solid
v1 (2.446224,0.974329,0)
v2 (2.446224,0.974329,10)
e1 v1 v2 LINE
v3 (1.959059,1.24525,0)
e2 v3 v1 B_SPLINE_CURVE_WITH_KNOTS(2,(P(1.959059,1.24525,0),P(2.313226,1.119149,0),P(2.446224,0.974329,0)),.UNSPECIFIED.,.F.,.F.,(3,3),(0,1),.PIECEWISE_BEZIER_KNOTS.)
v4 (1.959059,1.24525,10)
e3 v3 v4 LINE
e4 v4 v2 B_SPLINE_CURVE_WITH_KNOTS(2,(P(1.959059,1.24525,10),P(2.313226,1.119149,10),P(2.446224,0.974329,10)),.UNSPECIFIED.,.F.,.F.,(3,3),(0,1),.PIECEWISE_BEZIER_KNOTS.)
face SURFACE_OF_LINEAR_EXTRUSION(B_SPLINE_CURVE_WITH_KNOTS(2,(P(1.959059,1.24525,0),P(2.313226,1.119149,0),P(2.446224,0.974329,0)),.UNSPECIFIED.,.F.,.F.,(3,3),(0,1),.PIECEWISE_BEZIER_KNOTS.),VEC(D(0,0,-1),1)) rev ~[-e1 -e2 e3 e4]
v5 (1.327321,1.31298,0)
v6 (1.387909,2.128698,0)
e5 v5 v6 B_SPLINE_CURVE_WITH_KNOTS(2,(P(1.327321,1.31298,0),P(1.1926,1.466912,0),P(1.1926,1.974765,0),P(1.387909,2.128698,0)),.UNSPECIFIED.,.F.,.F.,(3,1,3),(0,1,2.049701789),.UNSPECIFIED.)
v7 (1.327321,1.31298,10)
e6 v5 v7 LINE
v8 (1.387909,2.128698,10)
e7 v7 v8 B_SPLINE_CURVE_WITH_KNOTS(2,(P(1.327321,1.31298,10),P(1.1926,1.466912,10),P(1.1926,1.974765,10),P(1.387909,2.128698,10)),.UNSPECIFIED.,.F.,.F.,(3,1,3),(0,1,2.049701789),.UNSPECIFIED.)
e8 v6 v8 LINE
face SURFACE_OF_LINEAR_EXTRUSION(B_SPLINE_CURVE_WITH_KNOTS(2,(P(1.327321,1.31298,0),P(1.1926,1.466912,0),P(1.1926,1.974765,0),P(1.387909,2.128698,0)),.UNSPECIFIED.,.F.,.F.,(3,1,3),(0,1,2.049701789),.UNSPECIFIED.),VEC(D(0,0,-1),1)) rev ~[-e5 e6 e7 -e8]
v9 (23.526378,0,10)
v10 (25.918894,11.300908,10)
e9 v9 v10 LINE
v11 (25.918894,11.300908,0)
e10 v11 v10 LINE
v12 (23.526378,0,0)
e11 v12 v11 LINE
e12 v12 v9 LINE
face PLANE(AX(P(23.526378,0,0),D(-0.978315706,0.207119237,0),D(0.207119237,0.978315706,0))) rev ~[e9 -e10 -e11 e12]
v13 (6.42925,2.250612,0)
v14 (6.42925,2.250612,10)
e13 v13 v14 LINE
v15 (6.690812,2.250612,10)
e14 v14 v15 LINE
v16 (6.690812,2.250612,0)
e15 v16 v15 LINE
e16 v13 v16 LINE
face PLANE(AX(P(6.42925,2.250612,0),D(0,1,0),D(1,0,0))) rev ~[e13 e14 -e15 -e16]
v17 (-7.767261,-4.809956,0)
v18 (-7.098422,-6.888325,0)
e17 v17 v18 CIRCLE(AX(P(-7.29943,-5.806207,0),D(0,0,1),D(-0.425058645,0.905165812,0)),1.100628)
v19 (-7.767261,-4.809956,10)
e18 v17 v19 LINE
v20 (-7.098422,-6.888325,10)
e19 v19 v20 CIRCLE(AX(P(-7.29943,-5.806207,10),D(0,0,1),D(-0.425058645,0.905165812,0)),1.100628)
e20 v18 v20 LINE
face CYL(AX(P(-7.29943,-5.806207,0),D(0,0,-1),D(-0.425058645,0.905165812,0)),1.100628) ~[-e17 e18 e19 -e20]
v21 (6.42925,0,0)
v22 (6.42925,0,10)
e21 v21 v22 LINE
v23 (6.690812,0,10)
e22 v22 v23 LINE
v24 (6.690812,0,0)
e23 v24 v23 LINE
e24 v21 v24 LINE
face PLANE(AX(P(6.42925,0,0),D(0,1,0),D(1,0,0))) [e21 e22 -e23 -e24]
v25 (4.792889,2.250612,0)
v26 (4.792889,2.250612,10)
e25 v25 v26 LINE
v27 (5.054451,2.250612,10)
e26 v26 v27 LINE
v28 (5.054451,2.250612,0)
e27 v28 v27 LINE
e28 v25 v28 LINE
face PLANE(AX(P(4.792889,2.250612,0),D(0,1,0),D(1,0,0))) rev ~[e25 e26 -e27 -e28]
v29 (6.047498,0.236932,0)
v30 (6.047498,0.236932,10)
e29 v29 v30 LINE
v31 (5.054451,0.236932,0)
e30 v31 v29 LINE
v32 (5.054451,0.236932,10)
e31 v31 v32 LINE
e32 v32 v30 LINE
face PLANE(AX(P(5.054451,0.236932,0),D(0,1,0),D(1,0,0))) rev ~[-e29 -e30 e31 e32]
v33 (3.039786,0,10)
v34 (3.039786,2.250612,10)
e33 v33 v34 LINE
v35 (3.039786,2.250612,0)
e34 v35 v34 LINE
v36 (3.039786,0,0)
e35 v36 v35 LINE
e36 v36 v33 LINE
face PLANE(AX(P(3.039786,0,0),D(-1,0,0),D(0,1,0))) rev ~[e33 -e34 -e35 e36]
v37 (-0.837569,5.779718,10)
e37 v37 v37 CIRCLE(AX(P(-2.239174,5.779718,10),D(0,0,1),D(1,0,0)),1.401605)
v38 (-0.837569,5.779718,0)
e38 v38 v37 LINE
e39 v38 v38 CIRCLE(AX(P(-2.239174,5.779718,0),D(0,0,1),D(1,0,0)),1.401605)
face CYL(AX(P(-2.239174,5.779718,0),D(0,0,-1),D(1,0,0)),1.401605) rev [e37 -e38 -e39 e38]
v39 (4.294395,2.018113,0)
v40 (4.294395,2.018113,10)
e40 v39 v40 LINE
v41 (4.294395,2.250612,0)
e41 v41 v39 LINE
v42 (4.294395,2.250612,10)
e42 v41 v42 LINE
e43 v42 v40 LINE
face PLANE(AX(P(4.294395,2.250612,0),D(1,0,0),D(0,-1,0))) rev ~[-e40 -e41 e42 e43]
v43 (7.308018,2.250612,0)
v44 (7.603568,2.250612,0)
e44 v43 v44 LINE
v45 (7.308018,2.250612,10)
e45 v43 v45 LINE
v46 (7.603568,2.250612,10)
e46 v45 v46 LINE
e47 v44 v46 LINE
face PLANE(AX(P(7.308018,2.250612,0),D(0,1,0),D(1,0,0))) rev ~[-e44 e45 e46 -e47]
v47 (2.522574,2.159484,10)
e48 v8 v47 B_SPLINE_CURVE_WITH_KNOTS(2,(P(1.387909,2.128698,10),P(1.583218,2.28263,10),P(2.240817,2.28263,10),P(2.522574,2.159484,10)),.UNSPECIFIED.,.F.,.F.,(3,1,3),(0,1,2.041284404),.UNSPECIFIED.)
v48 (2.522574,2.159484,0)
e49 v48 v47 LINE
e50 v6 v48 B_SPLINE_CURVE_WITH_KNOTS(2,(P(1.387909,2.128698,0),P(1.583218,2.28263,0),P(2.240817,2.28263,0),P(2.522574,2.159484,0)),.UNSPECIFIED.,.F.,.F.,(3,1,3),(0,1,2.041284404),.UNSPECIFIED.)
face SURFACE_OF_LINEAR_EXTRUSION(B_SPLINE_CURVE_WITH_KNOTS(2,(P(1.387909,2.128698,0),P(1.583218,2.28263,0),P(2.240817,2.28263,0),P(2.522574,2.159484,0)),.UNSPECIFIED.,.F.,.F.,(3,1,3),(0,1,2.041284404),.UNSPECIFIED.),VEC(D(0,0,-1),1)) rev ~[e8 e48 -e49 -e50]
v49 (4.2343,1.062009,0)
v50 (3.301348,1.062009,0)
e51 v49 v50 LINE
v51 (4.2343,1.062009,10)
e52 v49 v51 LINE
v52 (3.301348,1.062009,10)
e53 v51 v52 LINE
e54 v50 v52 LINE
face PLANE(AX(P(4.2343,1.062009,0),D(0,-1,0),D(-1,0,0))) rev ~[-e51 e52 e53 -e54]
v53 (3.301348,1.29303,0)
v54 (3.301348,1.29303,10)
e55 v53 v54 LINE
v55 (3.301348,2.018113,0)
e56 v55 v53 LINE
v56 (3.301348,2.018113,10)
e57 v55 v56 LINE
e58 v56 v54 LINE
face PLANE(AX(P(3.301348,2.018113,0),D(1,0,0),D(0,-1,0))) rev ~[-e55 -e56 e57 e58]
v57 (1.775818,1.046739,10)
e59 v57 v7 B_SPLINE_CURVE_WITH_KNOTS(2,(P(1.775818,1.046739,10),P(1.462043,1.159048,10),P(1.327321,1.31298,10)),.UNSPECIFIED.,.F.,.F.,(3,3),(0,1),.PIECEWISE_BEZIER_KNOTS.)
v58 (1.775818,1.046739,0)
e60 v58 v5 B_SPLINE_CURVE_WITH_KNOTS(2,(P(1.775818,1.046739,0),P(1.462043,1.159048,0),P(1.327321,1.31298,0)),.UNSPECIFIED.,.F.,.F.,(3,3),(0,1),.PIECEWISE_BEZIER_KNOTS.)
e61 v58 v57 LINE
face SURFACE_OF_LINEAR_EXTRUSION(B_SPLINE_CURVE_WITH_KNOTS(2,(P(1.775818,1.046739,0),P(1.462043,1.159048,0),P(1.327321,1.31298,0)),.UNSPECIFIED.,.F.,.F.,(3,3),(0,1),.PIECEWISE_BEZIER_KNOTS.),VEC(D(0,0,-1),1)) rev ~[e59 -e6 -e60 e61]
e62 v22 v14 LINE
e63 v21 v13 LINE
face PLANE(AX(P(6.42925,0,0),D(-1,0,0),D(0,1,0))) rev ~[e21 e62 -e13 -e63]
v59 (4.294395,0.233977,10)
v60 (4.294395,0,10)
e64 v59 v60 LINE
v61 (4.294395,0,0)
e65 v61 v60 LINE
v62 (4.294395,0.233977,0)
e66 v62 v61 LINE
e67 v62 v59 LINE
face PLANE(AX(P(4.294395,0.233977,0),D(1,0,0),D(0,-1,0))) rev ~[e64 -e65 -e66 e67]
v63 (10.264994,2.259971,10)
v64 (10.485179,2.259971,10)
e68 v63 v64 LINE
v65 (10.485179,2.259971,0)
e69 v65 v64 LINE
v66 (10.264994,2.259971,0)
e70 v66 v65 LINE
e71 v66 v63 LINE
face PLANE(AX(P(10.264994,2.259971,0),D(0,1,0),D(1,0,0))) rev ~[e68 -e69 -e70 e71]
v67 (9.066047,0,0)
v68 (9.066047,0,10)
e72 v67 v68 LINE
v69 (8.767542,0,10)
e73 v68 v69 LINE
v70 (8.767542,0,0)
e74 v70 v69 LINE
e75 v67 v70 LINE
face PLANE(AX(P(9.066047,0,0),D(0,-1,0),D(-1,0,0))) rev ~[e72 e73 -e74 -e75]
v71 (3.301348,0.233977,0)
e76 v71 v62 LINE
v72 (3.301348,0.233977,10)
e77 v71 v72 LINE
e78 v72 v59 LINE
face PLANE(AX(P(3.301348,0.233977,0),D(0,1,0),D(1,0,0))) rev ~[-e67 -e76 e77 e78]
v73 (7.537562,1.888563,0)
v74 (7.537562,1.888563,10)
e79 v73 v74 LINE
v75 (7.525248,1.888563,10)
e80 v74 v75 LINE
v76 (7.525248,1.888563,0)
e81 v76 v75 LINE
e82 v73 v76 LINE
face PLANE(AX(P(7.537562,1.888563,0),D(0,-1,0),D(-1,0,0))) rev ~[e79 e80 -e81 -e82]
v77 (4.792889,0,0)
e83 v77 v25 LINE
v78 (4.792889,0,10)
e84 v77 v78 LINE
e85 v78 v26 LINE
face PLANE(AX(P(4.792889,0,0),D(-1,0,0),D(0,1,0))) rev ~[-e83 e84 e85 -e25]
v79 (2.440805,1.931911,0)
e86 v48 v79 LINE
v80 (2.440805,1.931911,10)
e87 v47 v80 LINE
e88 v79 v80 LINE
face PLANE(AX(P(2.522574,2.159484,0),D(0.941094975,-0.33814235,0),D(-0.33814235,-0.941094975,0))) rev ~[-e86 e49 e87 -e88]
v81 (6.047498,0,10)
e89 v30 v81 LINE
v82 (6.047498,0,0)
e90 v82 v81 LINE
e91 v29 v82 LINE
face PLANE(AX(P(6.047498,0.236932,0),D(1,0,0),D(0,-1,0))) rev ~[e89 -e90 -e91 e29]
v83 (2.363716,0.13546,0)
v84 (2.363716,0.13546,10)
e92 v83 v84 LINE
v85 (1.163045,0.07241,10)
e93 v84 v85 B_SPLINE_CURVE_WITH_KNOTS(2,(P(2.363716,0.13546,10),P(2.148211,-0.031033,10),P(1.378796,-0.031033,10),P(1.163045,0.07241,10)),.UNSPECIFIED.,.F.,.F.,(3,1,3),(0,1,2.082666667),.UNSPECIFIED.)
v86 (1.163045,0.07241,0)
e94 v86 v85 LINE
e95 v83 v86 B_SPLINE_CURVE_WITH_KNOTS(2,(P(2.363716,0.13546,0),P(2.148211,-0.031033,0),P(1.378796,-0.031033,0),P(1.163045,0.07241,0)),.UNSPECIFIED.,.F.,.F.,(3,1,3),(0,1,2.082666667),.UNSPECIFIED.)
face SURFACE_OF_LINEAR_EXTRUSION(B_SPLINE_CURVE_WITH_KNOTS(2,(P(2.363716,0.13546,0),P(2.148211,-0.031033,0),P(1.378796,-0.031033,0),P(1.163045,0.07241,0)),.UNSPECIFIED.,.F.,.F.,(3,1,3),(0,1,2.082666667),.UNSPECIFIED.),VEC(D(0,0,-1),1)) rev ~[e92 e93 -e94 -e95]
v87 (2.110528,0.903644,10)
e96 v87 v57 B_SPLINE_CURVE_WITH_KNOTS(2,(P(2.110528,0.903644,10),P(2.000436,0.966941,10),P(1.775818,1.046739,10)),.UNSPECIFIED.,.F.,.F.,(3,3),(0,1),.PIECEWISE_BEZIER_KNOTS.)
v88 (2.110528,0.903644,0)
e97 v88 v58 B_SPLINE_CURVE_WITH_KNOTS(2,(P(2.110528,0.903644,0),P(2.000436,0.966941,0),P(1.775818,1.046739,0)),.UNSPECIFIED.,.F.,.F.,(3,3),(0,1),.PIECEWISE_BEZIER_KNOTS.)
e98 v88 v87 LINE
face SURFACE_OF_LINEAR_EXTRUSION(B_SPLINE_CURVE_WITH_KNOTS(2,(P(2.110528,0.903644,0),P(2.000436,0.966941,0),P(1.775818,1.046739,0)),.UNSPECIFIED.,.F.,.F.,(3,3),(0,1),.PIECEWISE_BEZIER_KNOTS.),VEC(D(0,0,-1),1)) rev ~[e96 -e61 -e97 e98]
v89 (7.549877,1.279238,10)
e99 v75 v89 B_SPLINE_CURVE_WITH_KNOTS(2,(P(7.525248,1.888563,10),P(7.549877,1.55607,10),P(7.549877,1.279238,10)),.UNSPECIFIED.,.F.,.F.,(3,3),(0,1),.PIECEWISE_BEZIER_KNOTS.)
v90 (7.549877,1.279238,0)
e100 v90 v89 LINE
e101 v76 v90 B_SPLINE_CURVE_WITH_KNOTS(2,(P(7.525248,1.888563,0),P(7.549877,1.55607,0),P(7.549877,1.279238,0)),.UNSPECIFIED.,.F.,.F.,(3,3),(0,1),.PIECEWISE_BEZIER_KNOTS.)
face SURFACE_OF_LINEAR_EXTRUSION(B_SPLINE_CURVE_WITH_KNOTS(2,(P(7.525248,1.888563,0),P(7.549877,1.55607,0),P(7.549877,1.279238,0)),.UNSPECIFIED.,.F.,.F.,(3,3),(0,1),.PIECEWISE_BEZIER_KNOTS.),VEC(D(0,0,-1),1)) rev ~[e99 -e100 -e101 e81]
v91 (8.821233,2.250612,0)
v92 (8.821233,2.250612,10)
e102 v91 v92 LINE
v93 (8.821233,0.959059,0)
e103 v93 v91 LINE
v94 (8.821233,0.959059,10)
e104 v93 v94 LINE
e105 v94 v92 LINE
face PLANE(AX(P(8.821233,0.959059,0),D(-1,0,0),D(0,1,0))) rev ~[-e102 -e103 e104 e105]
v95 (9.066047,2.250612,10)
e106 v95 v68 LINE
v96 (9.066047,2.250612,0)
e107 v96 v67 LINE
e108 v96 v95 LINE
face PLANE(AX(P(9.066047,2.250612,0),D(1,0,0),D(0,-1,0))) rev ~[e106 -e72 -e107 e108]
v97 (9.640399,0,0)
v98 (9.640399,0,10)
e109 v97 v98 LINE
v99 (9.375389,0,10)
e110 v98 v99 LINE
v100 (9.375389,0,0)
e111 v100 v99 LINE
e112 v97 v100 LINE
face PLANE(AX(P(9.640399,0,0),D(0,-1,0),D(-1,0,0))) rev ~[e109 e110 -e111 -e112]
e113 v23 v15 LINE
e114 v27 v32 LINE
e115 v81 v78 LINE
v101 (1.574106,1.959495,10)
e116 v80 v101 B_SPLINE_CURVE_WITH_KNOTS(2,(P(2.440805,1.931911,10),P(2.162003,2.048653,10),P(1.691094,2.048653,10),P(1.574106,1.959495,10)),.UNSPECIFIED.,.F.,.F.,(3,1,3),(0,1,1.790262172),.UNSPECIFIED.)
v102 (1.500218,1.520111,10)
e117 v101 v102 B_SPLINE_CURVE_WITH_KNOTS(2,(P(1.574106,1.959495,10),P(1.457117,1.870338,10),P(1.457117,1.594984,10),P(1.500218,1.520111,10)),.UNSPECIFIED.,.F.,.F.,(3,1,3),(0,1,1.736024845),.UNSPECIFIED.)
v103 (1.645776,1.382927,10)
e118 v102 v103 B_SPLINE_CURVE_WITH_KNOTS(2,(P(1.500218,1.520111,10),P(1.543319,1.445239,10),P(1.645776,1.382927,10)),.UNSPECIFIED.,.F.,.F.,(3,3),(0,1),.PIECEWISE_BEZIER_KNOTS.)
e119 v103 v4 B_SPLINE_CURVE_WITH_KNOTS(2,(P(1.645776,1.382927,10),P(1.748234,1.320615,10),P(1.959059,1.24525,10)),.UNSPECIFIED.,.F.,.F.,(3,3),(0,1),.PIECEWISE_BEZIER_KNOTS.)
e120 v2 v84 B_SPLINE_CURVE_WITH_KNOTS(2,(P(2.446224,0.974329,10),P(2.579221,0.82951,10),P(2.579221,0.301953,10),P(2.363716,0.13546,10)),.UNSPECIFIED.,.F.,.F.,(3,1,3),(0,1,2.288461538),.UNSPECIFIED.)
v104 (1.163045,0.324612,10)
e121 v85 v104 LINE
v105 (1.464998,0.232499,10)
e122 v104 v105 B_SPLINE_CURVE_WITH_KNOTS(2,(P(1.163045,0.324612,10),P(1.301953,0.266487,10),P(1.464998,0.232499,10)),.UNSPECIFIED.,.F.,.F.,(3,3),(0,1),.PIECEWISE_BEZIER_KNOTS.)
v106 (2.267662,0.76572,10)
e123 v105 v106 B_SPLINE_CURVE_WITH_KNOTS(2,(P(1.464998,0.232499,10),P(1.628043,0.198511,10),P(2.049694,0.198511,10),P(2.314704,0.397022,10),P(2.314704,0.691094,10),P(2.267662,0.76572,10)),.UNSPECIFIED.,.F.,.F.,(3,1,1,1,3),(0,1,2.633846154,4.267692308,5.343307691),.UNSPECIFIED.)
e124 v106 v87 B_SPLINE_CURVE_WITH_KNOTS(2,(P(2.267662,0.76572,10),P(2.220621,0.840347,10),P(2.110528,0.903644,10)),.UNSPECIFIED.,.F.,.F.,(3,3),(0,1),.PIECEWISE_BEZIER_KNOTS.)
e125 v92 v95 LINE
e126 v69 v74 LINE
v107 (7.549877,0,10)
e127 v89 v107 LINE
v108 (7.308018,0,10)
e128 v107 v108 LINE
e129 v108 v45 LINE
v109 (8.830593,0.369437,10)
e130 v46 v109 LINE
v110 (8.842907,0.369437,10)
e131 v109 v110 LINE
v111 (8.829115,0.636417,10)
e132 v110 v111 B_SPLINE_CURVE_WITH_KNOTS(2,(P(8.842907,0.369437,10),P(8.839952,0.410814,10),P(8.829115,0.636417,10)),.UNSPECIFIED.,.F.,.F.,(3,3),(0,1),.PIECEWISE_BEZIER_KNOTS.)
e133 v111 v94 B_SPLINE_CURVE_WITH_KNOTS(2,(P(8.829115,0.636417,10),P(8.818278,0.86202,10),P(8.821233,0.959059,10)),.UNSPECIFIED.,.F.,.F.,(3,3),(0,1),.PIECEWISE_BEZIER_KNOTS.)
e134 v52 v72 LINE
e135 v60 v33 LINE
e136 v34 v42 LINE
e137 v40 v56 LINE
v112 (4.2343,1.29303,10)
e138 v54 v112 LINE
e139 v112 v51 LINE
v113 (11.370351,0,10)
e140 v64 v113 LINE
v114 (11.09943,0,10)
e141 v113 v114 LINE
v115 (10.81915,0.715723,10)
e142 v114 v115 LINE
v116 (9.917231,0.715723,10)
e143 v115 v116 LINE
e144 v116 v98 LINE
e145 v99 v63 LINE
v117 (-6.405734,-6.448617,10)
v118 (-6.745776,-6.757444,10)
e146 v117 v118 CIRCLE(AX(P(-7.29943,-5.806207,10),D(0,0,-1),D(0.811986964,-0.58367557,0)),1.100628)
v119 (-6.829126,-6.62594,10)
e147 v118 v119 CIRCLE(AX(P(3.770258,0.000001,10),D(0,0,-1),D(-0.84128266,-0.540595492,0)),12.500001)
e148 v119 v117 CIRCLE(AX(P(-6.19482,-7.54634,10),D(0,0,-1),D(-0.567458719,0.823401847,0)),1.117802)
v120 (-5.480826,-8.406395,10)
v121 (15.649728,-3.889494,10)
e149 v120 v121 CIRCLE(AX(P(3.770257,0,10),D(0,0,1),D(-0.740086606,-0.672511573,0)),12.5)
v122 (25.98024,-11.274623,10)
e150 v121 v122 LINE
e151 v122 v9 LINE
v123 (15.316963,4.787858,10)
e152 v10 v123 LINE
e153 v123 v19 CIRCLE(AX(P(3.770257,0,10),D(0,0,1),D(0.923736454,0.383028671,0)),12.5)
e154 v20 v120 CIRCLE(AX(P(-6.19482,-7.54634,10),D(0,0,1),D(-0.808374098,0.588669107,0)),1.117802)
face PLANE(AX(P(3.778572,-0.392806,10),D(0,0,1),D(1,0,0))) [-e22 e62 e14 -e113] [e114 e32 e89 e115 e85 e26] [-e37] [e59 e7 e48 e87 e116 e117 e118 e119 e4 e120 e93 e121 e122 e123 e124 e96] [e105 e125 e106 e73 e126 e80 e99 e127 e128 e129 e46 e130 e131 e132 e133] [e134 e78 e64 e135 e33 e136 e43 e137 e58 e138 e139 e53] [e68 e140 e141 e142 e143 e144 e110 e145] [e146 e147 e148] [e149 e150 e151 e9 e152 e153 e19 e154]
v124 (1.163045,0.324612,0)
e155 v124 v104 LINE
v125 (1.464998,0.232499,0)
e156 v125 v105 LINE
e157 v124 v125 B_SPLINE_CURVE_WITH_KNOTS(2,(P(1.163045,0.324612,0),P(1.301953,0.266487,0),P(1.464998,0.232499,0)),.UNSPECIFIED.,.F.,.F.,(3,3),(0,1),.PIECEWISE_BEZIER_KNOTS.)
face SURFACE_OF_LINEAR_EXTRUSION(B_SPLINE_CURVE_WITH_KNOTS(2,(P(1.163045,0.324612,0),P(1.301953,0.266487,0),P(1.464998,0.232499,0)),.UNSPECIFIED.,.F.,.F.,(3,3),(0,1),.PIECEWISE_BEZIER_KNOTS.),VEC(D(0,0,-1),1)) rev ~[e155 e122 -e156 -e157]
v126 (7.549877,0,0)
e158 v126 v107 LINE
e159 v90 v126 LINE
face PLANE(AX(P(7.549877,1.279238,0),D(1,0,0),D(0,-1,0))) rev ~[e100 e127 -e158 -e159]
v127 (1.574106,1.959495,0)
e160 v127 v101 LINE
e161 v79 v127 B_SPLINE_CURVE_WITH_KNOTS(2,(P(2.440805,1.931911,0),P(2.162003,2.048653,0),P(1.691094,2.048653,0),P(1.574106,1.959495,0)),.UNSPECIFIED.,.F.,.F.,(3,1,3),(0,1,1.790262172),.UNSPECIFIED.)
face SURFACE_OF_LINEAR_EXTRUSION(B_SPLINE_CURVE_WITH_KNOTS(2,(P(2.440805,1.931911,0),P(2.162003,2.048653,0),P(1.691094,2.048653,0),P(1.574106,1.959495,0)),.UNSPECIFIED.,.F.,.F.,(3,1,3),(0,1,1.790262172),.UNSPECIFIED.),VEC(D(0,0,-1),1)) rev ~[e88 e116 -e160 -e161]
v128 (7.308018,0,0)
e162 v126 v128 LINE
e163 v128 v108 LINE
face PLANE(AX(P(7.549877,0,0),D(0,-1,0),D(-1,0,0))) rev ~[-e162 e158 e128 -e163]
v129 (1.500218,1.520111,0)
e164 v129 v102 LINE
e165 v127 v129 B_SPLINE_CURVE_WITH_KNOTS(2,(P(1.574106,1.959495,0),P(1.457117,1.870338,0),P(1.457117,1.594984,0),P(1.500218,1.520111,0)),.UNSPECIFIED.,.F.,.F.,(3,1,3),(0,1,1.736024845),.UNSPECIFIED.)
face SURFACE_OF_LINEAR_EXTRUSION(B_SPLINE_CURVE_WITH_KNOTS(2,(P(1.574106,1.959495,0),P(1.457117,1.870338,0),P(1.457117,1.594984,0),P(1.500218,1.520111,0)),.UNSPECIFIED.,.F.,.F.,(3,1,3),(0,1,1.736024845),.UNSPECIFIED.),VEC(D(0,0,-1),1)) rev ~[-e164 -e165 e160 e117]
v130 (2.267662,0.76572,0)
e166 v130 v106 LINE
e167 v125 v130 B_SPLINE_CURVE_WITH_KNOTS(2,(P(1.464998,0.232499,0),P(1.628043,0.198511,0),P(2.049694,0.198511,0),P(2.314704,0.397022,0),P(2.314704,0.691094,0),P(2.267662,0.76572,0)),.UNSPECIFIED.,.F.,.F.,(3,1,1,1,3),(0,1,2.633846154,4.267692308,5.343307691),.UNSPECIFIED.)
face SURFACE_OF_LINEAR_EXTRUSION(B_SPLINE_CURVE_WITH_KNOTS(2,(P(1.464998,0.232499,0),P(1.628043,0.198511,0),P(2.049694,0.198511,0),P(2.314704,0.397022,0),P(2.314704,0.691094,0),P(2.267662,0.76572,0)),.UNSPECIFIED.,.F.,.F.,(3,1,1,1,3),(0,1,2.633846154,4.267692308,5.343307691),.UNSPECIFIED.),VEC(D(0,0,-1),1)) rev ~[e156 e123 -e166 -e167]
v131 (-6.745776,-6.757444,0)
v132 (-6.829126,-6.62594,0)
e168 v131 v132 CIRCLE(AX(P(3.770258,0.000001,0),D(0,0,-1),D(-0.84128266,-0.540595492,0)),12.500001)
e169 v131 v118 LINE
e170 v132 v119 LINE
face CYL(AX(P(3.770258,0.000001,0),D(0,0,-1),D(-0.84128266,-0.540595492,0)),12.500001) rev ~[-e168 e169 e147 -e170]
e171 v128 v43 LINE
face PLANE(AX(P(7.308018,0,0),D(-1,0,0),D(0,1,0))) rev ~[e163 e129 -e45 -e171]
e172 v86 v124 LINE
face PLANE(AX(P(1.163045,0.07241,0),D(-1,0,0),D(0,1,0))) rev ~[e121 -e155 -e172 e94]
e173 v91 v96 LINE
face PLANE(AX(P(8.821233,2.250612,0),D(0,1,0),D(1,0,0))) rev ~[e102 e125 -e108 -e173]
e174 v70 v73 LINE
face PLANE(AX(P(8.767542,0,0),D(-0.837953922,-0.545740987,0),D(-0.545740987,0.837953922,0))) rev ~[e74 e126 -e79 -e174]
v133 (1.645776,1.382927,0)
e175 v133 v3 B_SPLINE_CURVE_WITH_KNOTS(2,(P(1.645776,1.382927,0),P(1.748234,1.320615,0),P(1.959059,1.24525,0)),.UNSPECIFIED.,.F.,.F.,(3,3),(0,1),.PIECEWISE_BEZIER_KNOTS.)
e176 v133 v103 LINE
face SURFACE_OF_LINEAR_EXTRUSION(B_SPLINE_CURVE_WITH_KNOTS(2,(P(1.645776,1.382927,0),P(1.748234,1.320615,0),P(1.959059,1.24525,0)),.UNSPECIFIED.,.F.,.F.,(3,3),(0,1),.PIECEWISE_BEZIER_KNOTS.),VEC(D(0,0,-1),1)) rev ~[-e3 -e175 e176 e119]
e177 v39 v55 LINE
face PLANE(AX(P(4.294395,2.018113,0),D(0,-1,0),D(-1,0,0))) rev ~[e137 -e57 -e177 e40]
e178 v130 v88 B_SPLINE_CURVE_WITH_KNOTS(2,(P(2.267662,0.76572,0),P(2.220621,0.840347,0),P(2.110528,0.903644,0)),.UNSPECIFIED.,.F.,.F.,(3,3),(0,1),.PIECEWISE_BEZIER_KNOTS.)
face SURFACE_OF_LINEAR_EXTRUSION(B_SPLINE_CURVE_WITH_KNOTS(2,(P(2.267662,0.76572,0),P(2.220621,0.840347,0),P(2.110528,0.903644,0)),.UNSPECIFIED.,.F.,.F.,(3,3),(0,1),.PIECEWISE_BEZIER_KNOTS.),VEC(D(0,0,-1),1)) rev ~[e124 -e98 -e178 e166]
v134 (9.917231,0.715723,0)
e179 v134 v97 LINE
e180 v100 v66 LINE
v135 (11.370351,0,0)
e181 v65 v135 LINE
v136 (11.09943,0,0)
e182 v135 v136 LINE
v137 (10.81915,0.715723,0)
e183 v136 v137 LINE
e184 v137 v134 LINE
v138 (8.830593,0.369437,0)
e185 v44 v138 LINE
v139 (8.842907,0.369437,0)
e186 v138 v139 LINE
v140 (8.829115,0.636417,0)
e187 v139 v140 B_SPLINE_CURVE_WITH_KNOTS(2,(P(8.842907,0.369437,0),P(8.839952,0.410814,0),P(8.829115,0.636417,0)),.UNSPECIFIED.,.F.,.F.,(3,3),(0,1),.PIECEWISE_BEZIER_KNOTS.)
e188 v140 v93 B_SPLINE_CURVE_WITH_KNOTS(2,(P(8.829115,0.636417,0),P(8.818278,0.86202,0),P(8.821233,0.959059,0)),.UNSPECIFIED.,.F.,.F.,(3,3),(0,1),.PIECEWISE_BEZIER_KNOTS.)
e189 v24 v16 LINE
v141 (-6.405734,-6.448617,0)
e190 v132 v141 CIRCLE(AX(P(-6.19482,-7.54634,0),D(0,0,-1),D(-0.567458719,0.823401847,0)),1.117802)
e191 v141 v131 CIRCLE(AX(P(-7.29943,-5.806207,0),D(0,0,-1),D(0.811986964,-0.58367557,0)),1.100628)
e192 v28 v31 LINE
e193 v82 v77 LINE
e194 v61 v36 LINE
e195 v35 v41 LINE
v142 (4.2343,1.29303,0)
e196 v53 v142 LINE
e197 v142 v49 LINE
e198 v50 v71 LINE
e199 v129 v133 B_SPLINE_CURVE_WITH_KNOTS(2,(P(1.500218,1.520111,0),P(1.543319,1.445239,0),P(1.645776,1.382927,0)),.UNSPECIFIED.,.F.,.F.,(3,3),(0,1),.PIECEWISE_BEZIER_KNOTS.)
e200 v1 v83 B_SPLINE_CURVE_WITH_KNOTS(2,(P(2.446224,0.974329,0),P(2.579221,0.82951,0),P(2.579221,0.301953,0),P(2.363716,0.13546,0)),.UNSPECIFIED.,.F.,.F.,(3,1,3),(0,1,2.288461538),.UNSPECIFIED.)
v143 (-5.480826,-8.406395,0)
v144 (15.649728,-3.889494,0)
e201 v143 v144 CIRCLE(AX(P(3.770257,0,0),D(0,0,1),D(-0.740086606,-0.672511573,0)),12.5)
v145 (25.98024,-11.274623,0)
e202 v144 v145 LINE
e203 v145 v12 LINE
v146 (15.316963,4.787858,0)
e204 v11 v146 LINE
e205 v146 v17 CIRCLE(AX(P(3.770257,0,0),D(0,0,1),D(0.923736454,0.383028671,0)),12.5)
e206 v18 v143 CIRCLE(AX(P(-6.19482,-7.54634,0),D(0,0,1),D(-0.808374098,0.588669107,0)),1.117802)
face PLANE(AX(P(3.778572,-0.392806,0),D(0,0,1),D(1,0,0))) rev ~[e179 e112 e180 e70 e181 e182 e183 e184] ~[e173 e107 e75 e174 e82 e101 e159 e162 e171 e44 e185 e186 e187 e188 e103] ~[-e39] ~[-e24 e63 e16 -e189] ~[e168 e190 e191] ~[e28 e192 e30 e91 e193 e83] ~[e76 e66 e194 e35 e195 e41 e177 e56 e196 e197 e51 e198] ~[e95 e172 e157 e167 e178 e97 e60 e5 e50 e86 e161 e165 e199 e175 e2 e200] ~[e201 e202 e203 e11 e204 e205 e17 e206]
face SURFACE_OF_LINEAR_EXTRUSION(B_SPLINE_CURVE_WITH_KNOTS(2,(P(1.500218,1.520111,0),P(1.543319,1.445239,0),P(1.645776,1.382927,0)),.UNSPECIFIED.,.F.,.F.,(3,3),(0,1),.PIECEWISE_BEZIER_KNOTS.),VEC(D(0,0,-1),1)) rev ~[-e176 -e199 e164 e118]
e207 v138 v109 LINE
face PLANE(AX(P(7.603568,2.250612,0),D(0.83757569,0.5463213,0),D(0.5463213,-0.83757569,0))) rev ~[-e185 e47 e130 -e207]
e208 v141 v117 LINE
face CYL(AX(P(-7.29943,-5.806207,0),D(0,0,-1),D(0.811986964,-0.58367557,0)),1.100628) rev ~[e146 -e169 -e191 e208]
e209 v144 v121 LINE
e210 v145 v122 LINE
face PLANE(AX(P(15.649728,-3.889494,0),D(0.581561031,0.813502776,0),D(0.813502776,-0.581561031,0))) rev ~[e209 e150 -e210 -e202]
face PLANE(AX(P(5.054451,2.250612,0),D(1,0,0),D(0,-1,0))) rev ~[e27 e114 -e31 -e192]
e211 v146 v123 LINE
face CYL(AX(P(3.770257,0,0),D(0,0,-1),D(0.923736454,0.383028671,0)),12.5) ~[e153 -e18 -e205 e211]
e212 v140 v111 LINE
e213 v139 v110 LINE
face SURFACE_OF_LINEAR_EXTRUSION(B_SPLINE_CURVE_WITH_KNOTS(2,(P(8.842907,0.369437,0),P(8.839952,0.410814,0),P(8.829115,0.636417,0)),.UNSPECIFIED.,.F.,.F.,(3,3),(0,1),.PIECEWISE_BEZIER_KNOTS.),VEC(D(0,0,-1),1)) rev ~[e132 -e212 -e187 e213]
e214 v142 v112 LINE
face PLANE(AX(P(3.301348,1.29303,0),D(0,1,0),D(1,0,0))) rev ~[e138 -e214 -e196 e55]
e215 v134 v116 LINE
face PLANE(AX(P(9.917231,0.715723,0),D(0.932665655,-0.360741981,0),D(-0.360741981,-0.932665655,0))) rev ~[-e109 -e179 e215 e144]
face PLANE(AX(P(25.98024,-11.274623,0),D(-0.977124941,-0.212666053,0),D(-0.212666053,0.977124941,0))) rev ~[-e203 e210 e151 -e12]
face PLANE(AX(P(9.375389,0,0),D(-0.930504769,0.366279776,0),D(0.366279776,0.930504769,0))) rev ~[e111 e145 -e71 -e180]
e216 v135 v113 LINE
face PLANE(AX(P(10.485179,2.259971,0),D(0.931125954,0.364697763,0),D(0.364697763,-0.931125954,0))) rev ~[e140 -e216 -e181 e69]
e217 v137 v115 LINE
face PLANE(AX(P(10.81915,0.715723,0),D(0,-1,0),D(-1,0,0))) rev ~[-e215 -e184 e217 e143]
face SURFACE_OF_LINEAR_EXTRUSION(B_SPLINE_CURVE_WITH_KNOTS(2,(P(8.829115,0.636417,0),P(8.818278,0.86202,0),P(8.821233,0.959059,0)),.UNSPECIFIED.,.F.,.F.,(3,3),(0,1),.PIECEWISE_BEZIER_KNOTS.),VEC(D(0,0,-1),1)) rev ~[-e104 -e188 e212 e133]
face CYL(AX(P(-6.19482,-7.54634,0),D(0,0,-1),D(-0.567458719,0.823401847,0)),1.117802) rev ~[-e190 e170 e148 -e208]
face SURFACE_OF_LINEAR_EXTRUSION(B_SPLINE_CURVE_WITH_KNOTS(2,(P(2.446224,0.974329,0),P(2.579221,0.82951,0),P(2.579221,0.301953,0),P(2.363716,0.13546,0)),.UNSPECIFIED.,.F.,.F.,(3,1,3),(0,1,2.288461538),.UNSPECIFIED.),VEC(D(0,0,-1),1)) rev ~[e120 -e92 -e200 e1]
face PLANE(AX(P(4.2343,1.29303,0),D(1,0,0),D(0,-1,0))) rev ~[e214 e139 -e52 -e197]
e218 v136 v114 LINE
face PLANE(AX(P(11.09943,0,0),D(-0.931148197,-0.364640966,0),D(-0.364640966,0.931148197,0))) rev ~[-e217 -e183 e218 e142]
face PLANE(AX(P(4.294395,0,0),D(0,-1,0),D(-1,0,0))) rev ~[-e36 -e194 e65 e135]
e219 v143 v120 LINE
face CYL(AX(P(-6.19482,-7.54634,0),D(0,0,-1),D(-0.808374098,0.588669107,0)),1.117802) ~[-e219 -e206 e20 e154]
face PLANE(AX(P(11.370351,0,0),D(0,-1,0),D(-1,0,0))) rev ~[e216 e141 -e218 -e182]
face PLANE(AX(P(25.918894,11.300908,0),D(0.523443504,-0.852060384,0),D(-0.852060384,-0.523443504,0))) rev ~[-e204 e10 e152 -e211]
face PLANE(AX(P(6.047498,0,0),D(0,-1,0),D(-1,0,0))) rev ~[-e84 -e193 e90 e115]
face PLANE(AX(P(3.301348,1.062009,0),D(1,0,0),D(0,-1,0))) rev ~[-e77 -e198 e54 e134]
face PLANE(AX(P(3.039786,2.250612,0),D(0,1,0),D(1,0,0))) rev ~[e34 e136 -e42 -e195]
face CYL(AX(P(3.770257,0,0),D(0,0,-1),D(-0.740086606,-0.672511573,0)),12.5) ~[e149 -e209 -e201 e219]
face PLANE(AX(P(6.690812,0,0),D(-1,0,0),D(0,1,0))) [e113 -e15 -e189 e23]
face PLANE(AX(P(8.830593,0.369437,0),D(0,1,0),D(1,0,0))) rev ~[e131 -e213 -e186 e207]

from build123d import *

# Parameters (mm, degrees)
F0_R     = 1.4016050998
F0_W     = 0.2615615931
F0_H     = 2.2506119
F1_DEPTH = 10


with BuildPart() as f1:
    # F0 (on Top) → F1 (new body)
    with BuildSketch(Plane.XY):
        with BuildLine():
            ThreePointArc((15.6497281832, -3.8894937424), (16.1141499311, -1.9693410977), (16.2702568807, 0))
            ThreePointArc((16.2702568807, 0), (16.0296169984, 2.440919807), (15.31696256, 4.7878583893))
            ThreePointArc((15.31696256, 4.7878583893), (-1.0286524493, 11.5421171906), (-7.7672612448, -4.8099558734))
            ThreePointArc((-7.7672612448, -4.8099558734), (-6.7093134723, -4.877150661), (-6.1988012008, -5.8062070906))
            ThreePointArc((-6.1988012008, -5.8062070906), (-6.2518108787, -6.1436650731), (-6.4057336913, -6.4486170097))
            ThreePointArc((-6.4057336913, -6.4486170097), (-5.4828783131, -6.684585858), (-5.0770177625, -7.5463402081))
            ThreePointArc((-5.0770177625, -7.5463402081), (-5.1829933682, -8.0214071787), (-5.4808256952, -8.4063946597))
            ThreePointArc((-5.4808256952, -8.4063946597), (6.3832446914, -12.2238412417), (15.6497281832, -3.8894937424))
        make_face()
        with Locations((-2.2391737439, 5.7797180489)):
            Circle(F0_R, mode=Mode.SUBTRACT)
        with BuildLine():
            add(Edge.make_bspline(
                [(2.4462237992, 0.9743292489), (2.5792212194, 0.8295098358), (2.5792212194, 0.598980974)],
                knots=[0, 0, 0, 1, 1, 1], degree=2))
            add(Edge.make_bspline(
                [(2.5792212194, 0.598980974), (2.5792212194, 0.3019534022), (2.3637161403, 0.1354603354)],
                knots=[0, 0, 0, 1, 1, 1], degree=2))
            add(Edge.make_bspline(
                [(2.3637161403, 0.1354603354), (2.1482110613, -0.0310327314), (1.7787737829, -0.0310327314)],
                knots=[0, 0, 0, 1, 1, 1], degree=2))
            add(Edge.make_bspline(
                [(1.7787737829, -0.0310327314), (1.3787963561, -0.0310327314), (1.1630449855, 0.0724097066)],
                knots=[0, 0, 0, 1, 1, 1], degree=2))
            Line((1.1630449855, 0.0724097066), (1.1630449855, 0.324612222))
            add(Edge.make_bspline(
                [(1.1630449855, 0.324612222), (1.3019534022, 0.2664874235), (1.4649983877, 0.2324991939)],
                knots=[0, 0, 0, 1, 1, 1], degree=2))
            add(Edge.make_bspline(
                [(1.4649983877, 0.2324991939), (1.6280433733, 0.1985109643), (1.7881328606, 0.1985109643)],
                knots=[0, 0, 0, 1, 1, 1], degree=2))
            add(Edge.make_bspline(
                [(1.7881328606, 0.1985109643), (2.0496944537, 0.1985109643), (2.1821992909, 0.2977664464)],
                knots=[0, 0, 0, 1, 1, 1], degree=2))
            add(Edge.make_bspline(
                [(2.1821992909, 0.2977664464), (2.3147041281, 0.3970219285), (2.3147041281, 0.5743518222)],
                knots=[0, 0, 0, 1, 1, 1], degree=2))
            add(Edge.make_bspline(
                [(2.3147041281, 0.5743518222), (2.3147041281, 0.6910940021), (2.2676624479, 0.7657203324)],
                knots=[0, 0, 0, 1, 1, 1], degree=2))
            add(Edge.make_bspline(
                [(2.2676624479, 0.7657203324), (2.2206207678, 0.8403466626), (2.1105284589, 0.903643583)],
                knots=[0, 0, 0, 1, 1, 1], degree=2))
            add(Edge.make_bspline(
                [(2.1105284589, 0.903643583), (2.0004361499, 0.9669405033), (1.7758182846, 1.0467389555)],
                knots=[0, 0, 0, 1, 1, 1], degree=2))
            add(Edge.make_bspline(
                [(1.7758182846, 1.0467389555), (1.4620428895, 1.1590478881), (1.3273214287, 1.3129800874)],
                knots=[0, 0, 0, 1, 1, 1], degree=2))
            add(Edge.make_bspline(
                [(1.3273214287, 1.3129800874), (1.1925999678, 1.4669122868), (1.1925999678, 1.7146815548)],
                knots=[0, 0, 0, 1, 1, 1], degree=2))
            add(Edge.make_bspline(
                [(1.1925999678, 1.7146815548), (1.1925999678, 1.9747653988), (1.3879091423, 2.1286975981)],
                knots=[0, 0, 0, 1, 1, 1], degree=2))
            add(Edge.make_bspline(
                [(1.3879091423, 2.1286975981), (1.5832183168, 2.2826297975), (1.9053676236, 2.2826297975)],
                knots=[0, 0, 0, 1, 1, 1], degree=2))
            add(Edge.make_bspline(
                [(1.9053676236, 2.2826297975), (2.2408166724, 2.2826297975), (2.52257417, 2.159484038)],
                knots=[0, 0, 0, 1, 1, 1], degree=2))
            Line((2.52257417, 2.159484038), (2.4408053858, 1.9319106745))
            add(Edge.make_bspline(
                [(2.4408053858, 1.9319106745), (2.1620033863, 2.0486528545), (1.8989640441, 2.0486528545)],
                knots=[0, 0, 0, 1, 1, 1], degree=2))
            add(Edge.make_bspline(
                [(1.8989640441, 2.0486528545), (1.6910940021, 2.0486528545), (1.5741055306, 1.9594953246)],
                knots=[0, 0, 0, 1, 1, 1], degree=2))
            add(Edge.make_bspline(
                [(1.5741055306, 1.9594953246), (1.4571170591, 1.8703377948), (1.4571170591, 1.7117260566)],
                knots=[0, 0, 0, 1, 1, 1], degree=2))
            add(Edge.make_bspline(
                [(1.4571170591, 1.7117260566), (1.4571170591, 1.5949838766), (1.500218075, 1.5201112549)],
                knots=[0, 0, 0, 1, 1, 1], degree=2))
            add(Edge.make_bspline(
                [(1.500218075, 1.5201112549), (1.5433190908, 1.4452386331), (1.6457763626, 1.3829268788)],
                knots=[0, 0, 0, 1, 1, 1], degree=2))
            add(Edge.make_bspline(
                [(1.6457763626, 1.3829268788), (1.7482336345, 1.3206151245), (1.9590591747, 1.2452499197)],
                knots=[0, 0, 0, 1, 1, 1], degree=2))
            add(Edge.make_bspline(
                [(1.9590591747, 1.2452499197), (2.3132263789, 1.119148662), (2.4462237992, 0.9743292489)],
                knots=[0, 0, 0, 1, 1, 1], degree=2))
        make_face(mode=Mode.SUBTRACT)
        Polygon((4.2943953572, 0.233976943), (4.2943953572, 0), (3.0397863598, 0), (3.0397863598, 2.2506119), (4.2943953572, 2.2506119), (4.2943953572, 2.0181127061), (3.3013479529, 2.0181127061), (3.3013479529, 1.2930304744), (4.2343002266, 1.2930304744), (4.2343002266, 1.0620090296), (3.3013479529, 1.0620090296), (3.3013479529, 0.233976943), align=None, mode=Mode.SUBTRACT)
        Polygon((6.047498389, 0), (4.7928893916, 0), (4.7928893916, 2.2506119), (5.0544509847, 2.2506119), (5.0544509847, 0.2369324412), (6.047498389, 0.2369324412), align=None, mode=Mode.SUBTRACT)
        with Locations((6.5600310399, 1.12530595)):
            Rectangle(F0_W, F0_H, mode=Mode.SUBTRACT)
        with BuildLine():
            Line((9.066047245, 2.2506119), (9.066047245, 0))
            Line((9.066047245, 0), (8.7675419241, 0))
            Line((8.7675419241, 0), (7.5375620785, 1.8885633672))
            Line((7.5375620785, 1.8885633672), (7.5252475026, 1.8885633672))
            add(Edge.make_bspline(
                [(7.5252475026, 1.8885633672), (7.5498766545, 1.5560698166), (7.5498766545, 1.2792381493)],
                knots=[0, 0, 0, 1, 1, 1], degree=2))
            Line((7.5498766545, 1.2792381493), (7.5498766545, 0))
            Line((7.5498766545, 0), (7.3080183829, 0))
            Line((7.3080183829, 0), (7.3080183829, 2.2506119))
            Line((7.3080183829, 2.2506119), (7.6035682056, 2.2506119))
            Line((7.6035682056, 2.2506119), (8.8305925529, 0.3694372784))
            Line((8.8305925529, 0.3694372784), (8.8429071289, 0.3694372784))
            add(Edge.make_bspline(
                [(8.8429071289, 0.3694372784), (8.8399516307, 0.4108142536), (8.8291148038, 0.6364172849)],
                knots=[0, 0, 0, 1, 1, 1], degree=2))
            add(Edge.make_bspline(
                [(8.8291148038, 0.6364172849), (8.818277977, 0.8620203163), (8.8212334752, 0.9590591747)],
                knots=[0, 0, 0, 1, 1, 1], degree=2))
            Line((8.8212334752, 0.9590591747), (8.8212334752, 2.2506119))
            Line((8.8212334752, 2.2506119), (9.066047245, 2.2506119))
        make_face(mode=Mode.SUBTRACT)
        Polygon((11.3703506962, 0), (11.0994300253, 0), (10.8191502768, 0.715723154), (9.9172307345, 0.715723154), (9.6403990672, 0), (9.3753893928, 0), (10.2649943592, 2.2599709777), (10.4851789771, 2.2599709777), align=None, mode=Mode.SUBTRACT)
        with BuildLine():
            ThreePointArc((15.31696256, 4.7878583893), (16.0296169984, 2.440919807), (16.2702568807, 0))
            ThreePointArc((16.2702568807, 0), (16.1141499311, -1.9693410977), (15.6497281832, -3.8894937424))
            Line((15.6497281832, -3.8894937424), (25.9802397341, -11.2746227533))
            Line((25.9802397341, -11.2746227533), (23.5263779759, 0))
            Line((23.5263779759, 0), (25.9188935161, 11.3009084016))
            Line((25.9188935161, 11.3009084016), (15.31696256, 4.7878583893))
        make_face()
        with BuildLine():
            ThreePointArc((-6.1988012008, -5.8062070906), (-6.7093134723, -4.877150661), (-7.7672612448, -4.8099558734))
            ThreePointArc((-7.7672612448, -4.8099558734), (-7.3353744108, -5.7371555337), (-6.8291260147, -6.6259401022))
            ThreePointArc((-6.8291260147, -6.6259401022), (-6.6266300861, -6.5153112644), (-6.4057336913, -6.4486170097))
            ThreePointArc((-6.4057336913, -6.4486170097), (-6.2518108787, -6.1436650731), (-6.1988012008, -5.8062070906))
        make_face()
        with BuildLine():
            ThreePointArc((-6.8291260147, -6.6259401022), (-7.3353744108, -5.7371555337), (-7.7672612448, -4.8099558734))
            ThreePointArc((-7.7672612448, -4.8099558734), (-8.3471428725, -6.1433715274), (-7.0984216701, -6.8883247926))
            ThreePointArc((-7.0984216701, -6.8883247926), (-6.9748850194, -6.7457286125), (-6.8291260147, -6.6259401022))
        make_face()
        with BuildLine():
            ThreePointArc((-7.0984216701, -6.8883247926), (-6.9597521838, -8.3614224908), (-5.4808256952, -8.4063946597))
            ThreePointArc((-5.4808256952, -8.4063946597), (-6.1476298332, -7.608253619), (-6.7457763686, -6.7574436512))
            ThreePointArc((-6.7457763686, -6.7574436512), (-6.9164663705, -6.8380607946), (-7.0984216701, -6.8883247926))
        make_face()
        with BuildLine():
            ThreePointArc((-6.7457763686, -6.7574436512), (-6.1476298332, -7.608253619), (-5.4808256952, -8.4063946597))
            ThreePointArc((-5.4808256952, -8.4063946597), (-5.1829933682, -8.0214071787), (-5.0770177625, -7.5463402081))
            ThreePointArc((-5.0770177625, -7.5463402081), (-5.4828783131, -6.684585858), (-6.4057336913, -6.4486170097))
            ThreePointArc((-6.4057336913, -6.4486170097), (-6.5594644952, -6.6209675039), (-6.7457763686, -6.7574436512))
        make_face()
        with BuildLine():
            ThreePointArc((-6.7457763686, -6.7574436512), (-6.7876559356, -6.6918216476), (-6.8291260147, -6.6259401022))
            ThreePointArc((-6.8291260147, -6.6259401022), (-6.9748850194, -6.7457286125), (-7.0984216701, -6.8883247926))
            ThreePointArc((-7.0984216701, -6.8883247926), (-6.9164663705, -6.8380607946), (-6.7457763686, -6.7574436512))
        make_face()
    extrude(amount=F1_DEPTH)


solid = f1.part
